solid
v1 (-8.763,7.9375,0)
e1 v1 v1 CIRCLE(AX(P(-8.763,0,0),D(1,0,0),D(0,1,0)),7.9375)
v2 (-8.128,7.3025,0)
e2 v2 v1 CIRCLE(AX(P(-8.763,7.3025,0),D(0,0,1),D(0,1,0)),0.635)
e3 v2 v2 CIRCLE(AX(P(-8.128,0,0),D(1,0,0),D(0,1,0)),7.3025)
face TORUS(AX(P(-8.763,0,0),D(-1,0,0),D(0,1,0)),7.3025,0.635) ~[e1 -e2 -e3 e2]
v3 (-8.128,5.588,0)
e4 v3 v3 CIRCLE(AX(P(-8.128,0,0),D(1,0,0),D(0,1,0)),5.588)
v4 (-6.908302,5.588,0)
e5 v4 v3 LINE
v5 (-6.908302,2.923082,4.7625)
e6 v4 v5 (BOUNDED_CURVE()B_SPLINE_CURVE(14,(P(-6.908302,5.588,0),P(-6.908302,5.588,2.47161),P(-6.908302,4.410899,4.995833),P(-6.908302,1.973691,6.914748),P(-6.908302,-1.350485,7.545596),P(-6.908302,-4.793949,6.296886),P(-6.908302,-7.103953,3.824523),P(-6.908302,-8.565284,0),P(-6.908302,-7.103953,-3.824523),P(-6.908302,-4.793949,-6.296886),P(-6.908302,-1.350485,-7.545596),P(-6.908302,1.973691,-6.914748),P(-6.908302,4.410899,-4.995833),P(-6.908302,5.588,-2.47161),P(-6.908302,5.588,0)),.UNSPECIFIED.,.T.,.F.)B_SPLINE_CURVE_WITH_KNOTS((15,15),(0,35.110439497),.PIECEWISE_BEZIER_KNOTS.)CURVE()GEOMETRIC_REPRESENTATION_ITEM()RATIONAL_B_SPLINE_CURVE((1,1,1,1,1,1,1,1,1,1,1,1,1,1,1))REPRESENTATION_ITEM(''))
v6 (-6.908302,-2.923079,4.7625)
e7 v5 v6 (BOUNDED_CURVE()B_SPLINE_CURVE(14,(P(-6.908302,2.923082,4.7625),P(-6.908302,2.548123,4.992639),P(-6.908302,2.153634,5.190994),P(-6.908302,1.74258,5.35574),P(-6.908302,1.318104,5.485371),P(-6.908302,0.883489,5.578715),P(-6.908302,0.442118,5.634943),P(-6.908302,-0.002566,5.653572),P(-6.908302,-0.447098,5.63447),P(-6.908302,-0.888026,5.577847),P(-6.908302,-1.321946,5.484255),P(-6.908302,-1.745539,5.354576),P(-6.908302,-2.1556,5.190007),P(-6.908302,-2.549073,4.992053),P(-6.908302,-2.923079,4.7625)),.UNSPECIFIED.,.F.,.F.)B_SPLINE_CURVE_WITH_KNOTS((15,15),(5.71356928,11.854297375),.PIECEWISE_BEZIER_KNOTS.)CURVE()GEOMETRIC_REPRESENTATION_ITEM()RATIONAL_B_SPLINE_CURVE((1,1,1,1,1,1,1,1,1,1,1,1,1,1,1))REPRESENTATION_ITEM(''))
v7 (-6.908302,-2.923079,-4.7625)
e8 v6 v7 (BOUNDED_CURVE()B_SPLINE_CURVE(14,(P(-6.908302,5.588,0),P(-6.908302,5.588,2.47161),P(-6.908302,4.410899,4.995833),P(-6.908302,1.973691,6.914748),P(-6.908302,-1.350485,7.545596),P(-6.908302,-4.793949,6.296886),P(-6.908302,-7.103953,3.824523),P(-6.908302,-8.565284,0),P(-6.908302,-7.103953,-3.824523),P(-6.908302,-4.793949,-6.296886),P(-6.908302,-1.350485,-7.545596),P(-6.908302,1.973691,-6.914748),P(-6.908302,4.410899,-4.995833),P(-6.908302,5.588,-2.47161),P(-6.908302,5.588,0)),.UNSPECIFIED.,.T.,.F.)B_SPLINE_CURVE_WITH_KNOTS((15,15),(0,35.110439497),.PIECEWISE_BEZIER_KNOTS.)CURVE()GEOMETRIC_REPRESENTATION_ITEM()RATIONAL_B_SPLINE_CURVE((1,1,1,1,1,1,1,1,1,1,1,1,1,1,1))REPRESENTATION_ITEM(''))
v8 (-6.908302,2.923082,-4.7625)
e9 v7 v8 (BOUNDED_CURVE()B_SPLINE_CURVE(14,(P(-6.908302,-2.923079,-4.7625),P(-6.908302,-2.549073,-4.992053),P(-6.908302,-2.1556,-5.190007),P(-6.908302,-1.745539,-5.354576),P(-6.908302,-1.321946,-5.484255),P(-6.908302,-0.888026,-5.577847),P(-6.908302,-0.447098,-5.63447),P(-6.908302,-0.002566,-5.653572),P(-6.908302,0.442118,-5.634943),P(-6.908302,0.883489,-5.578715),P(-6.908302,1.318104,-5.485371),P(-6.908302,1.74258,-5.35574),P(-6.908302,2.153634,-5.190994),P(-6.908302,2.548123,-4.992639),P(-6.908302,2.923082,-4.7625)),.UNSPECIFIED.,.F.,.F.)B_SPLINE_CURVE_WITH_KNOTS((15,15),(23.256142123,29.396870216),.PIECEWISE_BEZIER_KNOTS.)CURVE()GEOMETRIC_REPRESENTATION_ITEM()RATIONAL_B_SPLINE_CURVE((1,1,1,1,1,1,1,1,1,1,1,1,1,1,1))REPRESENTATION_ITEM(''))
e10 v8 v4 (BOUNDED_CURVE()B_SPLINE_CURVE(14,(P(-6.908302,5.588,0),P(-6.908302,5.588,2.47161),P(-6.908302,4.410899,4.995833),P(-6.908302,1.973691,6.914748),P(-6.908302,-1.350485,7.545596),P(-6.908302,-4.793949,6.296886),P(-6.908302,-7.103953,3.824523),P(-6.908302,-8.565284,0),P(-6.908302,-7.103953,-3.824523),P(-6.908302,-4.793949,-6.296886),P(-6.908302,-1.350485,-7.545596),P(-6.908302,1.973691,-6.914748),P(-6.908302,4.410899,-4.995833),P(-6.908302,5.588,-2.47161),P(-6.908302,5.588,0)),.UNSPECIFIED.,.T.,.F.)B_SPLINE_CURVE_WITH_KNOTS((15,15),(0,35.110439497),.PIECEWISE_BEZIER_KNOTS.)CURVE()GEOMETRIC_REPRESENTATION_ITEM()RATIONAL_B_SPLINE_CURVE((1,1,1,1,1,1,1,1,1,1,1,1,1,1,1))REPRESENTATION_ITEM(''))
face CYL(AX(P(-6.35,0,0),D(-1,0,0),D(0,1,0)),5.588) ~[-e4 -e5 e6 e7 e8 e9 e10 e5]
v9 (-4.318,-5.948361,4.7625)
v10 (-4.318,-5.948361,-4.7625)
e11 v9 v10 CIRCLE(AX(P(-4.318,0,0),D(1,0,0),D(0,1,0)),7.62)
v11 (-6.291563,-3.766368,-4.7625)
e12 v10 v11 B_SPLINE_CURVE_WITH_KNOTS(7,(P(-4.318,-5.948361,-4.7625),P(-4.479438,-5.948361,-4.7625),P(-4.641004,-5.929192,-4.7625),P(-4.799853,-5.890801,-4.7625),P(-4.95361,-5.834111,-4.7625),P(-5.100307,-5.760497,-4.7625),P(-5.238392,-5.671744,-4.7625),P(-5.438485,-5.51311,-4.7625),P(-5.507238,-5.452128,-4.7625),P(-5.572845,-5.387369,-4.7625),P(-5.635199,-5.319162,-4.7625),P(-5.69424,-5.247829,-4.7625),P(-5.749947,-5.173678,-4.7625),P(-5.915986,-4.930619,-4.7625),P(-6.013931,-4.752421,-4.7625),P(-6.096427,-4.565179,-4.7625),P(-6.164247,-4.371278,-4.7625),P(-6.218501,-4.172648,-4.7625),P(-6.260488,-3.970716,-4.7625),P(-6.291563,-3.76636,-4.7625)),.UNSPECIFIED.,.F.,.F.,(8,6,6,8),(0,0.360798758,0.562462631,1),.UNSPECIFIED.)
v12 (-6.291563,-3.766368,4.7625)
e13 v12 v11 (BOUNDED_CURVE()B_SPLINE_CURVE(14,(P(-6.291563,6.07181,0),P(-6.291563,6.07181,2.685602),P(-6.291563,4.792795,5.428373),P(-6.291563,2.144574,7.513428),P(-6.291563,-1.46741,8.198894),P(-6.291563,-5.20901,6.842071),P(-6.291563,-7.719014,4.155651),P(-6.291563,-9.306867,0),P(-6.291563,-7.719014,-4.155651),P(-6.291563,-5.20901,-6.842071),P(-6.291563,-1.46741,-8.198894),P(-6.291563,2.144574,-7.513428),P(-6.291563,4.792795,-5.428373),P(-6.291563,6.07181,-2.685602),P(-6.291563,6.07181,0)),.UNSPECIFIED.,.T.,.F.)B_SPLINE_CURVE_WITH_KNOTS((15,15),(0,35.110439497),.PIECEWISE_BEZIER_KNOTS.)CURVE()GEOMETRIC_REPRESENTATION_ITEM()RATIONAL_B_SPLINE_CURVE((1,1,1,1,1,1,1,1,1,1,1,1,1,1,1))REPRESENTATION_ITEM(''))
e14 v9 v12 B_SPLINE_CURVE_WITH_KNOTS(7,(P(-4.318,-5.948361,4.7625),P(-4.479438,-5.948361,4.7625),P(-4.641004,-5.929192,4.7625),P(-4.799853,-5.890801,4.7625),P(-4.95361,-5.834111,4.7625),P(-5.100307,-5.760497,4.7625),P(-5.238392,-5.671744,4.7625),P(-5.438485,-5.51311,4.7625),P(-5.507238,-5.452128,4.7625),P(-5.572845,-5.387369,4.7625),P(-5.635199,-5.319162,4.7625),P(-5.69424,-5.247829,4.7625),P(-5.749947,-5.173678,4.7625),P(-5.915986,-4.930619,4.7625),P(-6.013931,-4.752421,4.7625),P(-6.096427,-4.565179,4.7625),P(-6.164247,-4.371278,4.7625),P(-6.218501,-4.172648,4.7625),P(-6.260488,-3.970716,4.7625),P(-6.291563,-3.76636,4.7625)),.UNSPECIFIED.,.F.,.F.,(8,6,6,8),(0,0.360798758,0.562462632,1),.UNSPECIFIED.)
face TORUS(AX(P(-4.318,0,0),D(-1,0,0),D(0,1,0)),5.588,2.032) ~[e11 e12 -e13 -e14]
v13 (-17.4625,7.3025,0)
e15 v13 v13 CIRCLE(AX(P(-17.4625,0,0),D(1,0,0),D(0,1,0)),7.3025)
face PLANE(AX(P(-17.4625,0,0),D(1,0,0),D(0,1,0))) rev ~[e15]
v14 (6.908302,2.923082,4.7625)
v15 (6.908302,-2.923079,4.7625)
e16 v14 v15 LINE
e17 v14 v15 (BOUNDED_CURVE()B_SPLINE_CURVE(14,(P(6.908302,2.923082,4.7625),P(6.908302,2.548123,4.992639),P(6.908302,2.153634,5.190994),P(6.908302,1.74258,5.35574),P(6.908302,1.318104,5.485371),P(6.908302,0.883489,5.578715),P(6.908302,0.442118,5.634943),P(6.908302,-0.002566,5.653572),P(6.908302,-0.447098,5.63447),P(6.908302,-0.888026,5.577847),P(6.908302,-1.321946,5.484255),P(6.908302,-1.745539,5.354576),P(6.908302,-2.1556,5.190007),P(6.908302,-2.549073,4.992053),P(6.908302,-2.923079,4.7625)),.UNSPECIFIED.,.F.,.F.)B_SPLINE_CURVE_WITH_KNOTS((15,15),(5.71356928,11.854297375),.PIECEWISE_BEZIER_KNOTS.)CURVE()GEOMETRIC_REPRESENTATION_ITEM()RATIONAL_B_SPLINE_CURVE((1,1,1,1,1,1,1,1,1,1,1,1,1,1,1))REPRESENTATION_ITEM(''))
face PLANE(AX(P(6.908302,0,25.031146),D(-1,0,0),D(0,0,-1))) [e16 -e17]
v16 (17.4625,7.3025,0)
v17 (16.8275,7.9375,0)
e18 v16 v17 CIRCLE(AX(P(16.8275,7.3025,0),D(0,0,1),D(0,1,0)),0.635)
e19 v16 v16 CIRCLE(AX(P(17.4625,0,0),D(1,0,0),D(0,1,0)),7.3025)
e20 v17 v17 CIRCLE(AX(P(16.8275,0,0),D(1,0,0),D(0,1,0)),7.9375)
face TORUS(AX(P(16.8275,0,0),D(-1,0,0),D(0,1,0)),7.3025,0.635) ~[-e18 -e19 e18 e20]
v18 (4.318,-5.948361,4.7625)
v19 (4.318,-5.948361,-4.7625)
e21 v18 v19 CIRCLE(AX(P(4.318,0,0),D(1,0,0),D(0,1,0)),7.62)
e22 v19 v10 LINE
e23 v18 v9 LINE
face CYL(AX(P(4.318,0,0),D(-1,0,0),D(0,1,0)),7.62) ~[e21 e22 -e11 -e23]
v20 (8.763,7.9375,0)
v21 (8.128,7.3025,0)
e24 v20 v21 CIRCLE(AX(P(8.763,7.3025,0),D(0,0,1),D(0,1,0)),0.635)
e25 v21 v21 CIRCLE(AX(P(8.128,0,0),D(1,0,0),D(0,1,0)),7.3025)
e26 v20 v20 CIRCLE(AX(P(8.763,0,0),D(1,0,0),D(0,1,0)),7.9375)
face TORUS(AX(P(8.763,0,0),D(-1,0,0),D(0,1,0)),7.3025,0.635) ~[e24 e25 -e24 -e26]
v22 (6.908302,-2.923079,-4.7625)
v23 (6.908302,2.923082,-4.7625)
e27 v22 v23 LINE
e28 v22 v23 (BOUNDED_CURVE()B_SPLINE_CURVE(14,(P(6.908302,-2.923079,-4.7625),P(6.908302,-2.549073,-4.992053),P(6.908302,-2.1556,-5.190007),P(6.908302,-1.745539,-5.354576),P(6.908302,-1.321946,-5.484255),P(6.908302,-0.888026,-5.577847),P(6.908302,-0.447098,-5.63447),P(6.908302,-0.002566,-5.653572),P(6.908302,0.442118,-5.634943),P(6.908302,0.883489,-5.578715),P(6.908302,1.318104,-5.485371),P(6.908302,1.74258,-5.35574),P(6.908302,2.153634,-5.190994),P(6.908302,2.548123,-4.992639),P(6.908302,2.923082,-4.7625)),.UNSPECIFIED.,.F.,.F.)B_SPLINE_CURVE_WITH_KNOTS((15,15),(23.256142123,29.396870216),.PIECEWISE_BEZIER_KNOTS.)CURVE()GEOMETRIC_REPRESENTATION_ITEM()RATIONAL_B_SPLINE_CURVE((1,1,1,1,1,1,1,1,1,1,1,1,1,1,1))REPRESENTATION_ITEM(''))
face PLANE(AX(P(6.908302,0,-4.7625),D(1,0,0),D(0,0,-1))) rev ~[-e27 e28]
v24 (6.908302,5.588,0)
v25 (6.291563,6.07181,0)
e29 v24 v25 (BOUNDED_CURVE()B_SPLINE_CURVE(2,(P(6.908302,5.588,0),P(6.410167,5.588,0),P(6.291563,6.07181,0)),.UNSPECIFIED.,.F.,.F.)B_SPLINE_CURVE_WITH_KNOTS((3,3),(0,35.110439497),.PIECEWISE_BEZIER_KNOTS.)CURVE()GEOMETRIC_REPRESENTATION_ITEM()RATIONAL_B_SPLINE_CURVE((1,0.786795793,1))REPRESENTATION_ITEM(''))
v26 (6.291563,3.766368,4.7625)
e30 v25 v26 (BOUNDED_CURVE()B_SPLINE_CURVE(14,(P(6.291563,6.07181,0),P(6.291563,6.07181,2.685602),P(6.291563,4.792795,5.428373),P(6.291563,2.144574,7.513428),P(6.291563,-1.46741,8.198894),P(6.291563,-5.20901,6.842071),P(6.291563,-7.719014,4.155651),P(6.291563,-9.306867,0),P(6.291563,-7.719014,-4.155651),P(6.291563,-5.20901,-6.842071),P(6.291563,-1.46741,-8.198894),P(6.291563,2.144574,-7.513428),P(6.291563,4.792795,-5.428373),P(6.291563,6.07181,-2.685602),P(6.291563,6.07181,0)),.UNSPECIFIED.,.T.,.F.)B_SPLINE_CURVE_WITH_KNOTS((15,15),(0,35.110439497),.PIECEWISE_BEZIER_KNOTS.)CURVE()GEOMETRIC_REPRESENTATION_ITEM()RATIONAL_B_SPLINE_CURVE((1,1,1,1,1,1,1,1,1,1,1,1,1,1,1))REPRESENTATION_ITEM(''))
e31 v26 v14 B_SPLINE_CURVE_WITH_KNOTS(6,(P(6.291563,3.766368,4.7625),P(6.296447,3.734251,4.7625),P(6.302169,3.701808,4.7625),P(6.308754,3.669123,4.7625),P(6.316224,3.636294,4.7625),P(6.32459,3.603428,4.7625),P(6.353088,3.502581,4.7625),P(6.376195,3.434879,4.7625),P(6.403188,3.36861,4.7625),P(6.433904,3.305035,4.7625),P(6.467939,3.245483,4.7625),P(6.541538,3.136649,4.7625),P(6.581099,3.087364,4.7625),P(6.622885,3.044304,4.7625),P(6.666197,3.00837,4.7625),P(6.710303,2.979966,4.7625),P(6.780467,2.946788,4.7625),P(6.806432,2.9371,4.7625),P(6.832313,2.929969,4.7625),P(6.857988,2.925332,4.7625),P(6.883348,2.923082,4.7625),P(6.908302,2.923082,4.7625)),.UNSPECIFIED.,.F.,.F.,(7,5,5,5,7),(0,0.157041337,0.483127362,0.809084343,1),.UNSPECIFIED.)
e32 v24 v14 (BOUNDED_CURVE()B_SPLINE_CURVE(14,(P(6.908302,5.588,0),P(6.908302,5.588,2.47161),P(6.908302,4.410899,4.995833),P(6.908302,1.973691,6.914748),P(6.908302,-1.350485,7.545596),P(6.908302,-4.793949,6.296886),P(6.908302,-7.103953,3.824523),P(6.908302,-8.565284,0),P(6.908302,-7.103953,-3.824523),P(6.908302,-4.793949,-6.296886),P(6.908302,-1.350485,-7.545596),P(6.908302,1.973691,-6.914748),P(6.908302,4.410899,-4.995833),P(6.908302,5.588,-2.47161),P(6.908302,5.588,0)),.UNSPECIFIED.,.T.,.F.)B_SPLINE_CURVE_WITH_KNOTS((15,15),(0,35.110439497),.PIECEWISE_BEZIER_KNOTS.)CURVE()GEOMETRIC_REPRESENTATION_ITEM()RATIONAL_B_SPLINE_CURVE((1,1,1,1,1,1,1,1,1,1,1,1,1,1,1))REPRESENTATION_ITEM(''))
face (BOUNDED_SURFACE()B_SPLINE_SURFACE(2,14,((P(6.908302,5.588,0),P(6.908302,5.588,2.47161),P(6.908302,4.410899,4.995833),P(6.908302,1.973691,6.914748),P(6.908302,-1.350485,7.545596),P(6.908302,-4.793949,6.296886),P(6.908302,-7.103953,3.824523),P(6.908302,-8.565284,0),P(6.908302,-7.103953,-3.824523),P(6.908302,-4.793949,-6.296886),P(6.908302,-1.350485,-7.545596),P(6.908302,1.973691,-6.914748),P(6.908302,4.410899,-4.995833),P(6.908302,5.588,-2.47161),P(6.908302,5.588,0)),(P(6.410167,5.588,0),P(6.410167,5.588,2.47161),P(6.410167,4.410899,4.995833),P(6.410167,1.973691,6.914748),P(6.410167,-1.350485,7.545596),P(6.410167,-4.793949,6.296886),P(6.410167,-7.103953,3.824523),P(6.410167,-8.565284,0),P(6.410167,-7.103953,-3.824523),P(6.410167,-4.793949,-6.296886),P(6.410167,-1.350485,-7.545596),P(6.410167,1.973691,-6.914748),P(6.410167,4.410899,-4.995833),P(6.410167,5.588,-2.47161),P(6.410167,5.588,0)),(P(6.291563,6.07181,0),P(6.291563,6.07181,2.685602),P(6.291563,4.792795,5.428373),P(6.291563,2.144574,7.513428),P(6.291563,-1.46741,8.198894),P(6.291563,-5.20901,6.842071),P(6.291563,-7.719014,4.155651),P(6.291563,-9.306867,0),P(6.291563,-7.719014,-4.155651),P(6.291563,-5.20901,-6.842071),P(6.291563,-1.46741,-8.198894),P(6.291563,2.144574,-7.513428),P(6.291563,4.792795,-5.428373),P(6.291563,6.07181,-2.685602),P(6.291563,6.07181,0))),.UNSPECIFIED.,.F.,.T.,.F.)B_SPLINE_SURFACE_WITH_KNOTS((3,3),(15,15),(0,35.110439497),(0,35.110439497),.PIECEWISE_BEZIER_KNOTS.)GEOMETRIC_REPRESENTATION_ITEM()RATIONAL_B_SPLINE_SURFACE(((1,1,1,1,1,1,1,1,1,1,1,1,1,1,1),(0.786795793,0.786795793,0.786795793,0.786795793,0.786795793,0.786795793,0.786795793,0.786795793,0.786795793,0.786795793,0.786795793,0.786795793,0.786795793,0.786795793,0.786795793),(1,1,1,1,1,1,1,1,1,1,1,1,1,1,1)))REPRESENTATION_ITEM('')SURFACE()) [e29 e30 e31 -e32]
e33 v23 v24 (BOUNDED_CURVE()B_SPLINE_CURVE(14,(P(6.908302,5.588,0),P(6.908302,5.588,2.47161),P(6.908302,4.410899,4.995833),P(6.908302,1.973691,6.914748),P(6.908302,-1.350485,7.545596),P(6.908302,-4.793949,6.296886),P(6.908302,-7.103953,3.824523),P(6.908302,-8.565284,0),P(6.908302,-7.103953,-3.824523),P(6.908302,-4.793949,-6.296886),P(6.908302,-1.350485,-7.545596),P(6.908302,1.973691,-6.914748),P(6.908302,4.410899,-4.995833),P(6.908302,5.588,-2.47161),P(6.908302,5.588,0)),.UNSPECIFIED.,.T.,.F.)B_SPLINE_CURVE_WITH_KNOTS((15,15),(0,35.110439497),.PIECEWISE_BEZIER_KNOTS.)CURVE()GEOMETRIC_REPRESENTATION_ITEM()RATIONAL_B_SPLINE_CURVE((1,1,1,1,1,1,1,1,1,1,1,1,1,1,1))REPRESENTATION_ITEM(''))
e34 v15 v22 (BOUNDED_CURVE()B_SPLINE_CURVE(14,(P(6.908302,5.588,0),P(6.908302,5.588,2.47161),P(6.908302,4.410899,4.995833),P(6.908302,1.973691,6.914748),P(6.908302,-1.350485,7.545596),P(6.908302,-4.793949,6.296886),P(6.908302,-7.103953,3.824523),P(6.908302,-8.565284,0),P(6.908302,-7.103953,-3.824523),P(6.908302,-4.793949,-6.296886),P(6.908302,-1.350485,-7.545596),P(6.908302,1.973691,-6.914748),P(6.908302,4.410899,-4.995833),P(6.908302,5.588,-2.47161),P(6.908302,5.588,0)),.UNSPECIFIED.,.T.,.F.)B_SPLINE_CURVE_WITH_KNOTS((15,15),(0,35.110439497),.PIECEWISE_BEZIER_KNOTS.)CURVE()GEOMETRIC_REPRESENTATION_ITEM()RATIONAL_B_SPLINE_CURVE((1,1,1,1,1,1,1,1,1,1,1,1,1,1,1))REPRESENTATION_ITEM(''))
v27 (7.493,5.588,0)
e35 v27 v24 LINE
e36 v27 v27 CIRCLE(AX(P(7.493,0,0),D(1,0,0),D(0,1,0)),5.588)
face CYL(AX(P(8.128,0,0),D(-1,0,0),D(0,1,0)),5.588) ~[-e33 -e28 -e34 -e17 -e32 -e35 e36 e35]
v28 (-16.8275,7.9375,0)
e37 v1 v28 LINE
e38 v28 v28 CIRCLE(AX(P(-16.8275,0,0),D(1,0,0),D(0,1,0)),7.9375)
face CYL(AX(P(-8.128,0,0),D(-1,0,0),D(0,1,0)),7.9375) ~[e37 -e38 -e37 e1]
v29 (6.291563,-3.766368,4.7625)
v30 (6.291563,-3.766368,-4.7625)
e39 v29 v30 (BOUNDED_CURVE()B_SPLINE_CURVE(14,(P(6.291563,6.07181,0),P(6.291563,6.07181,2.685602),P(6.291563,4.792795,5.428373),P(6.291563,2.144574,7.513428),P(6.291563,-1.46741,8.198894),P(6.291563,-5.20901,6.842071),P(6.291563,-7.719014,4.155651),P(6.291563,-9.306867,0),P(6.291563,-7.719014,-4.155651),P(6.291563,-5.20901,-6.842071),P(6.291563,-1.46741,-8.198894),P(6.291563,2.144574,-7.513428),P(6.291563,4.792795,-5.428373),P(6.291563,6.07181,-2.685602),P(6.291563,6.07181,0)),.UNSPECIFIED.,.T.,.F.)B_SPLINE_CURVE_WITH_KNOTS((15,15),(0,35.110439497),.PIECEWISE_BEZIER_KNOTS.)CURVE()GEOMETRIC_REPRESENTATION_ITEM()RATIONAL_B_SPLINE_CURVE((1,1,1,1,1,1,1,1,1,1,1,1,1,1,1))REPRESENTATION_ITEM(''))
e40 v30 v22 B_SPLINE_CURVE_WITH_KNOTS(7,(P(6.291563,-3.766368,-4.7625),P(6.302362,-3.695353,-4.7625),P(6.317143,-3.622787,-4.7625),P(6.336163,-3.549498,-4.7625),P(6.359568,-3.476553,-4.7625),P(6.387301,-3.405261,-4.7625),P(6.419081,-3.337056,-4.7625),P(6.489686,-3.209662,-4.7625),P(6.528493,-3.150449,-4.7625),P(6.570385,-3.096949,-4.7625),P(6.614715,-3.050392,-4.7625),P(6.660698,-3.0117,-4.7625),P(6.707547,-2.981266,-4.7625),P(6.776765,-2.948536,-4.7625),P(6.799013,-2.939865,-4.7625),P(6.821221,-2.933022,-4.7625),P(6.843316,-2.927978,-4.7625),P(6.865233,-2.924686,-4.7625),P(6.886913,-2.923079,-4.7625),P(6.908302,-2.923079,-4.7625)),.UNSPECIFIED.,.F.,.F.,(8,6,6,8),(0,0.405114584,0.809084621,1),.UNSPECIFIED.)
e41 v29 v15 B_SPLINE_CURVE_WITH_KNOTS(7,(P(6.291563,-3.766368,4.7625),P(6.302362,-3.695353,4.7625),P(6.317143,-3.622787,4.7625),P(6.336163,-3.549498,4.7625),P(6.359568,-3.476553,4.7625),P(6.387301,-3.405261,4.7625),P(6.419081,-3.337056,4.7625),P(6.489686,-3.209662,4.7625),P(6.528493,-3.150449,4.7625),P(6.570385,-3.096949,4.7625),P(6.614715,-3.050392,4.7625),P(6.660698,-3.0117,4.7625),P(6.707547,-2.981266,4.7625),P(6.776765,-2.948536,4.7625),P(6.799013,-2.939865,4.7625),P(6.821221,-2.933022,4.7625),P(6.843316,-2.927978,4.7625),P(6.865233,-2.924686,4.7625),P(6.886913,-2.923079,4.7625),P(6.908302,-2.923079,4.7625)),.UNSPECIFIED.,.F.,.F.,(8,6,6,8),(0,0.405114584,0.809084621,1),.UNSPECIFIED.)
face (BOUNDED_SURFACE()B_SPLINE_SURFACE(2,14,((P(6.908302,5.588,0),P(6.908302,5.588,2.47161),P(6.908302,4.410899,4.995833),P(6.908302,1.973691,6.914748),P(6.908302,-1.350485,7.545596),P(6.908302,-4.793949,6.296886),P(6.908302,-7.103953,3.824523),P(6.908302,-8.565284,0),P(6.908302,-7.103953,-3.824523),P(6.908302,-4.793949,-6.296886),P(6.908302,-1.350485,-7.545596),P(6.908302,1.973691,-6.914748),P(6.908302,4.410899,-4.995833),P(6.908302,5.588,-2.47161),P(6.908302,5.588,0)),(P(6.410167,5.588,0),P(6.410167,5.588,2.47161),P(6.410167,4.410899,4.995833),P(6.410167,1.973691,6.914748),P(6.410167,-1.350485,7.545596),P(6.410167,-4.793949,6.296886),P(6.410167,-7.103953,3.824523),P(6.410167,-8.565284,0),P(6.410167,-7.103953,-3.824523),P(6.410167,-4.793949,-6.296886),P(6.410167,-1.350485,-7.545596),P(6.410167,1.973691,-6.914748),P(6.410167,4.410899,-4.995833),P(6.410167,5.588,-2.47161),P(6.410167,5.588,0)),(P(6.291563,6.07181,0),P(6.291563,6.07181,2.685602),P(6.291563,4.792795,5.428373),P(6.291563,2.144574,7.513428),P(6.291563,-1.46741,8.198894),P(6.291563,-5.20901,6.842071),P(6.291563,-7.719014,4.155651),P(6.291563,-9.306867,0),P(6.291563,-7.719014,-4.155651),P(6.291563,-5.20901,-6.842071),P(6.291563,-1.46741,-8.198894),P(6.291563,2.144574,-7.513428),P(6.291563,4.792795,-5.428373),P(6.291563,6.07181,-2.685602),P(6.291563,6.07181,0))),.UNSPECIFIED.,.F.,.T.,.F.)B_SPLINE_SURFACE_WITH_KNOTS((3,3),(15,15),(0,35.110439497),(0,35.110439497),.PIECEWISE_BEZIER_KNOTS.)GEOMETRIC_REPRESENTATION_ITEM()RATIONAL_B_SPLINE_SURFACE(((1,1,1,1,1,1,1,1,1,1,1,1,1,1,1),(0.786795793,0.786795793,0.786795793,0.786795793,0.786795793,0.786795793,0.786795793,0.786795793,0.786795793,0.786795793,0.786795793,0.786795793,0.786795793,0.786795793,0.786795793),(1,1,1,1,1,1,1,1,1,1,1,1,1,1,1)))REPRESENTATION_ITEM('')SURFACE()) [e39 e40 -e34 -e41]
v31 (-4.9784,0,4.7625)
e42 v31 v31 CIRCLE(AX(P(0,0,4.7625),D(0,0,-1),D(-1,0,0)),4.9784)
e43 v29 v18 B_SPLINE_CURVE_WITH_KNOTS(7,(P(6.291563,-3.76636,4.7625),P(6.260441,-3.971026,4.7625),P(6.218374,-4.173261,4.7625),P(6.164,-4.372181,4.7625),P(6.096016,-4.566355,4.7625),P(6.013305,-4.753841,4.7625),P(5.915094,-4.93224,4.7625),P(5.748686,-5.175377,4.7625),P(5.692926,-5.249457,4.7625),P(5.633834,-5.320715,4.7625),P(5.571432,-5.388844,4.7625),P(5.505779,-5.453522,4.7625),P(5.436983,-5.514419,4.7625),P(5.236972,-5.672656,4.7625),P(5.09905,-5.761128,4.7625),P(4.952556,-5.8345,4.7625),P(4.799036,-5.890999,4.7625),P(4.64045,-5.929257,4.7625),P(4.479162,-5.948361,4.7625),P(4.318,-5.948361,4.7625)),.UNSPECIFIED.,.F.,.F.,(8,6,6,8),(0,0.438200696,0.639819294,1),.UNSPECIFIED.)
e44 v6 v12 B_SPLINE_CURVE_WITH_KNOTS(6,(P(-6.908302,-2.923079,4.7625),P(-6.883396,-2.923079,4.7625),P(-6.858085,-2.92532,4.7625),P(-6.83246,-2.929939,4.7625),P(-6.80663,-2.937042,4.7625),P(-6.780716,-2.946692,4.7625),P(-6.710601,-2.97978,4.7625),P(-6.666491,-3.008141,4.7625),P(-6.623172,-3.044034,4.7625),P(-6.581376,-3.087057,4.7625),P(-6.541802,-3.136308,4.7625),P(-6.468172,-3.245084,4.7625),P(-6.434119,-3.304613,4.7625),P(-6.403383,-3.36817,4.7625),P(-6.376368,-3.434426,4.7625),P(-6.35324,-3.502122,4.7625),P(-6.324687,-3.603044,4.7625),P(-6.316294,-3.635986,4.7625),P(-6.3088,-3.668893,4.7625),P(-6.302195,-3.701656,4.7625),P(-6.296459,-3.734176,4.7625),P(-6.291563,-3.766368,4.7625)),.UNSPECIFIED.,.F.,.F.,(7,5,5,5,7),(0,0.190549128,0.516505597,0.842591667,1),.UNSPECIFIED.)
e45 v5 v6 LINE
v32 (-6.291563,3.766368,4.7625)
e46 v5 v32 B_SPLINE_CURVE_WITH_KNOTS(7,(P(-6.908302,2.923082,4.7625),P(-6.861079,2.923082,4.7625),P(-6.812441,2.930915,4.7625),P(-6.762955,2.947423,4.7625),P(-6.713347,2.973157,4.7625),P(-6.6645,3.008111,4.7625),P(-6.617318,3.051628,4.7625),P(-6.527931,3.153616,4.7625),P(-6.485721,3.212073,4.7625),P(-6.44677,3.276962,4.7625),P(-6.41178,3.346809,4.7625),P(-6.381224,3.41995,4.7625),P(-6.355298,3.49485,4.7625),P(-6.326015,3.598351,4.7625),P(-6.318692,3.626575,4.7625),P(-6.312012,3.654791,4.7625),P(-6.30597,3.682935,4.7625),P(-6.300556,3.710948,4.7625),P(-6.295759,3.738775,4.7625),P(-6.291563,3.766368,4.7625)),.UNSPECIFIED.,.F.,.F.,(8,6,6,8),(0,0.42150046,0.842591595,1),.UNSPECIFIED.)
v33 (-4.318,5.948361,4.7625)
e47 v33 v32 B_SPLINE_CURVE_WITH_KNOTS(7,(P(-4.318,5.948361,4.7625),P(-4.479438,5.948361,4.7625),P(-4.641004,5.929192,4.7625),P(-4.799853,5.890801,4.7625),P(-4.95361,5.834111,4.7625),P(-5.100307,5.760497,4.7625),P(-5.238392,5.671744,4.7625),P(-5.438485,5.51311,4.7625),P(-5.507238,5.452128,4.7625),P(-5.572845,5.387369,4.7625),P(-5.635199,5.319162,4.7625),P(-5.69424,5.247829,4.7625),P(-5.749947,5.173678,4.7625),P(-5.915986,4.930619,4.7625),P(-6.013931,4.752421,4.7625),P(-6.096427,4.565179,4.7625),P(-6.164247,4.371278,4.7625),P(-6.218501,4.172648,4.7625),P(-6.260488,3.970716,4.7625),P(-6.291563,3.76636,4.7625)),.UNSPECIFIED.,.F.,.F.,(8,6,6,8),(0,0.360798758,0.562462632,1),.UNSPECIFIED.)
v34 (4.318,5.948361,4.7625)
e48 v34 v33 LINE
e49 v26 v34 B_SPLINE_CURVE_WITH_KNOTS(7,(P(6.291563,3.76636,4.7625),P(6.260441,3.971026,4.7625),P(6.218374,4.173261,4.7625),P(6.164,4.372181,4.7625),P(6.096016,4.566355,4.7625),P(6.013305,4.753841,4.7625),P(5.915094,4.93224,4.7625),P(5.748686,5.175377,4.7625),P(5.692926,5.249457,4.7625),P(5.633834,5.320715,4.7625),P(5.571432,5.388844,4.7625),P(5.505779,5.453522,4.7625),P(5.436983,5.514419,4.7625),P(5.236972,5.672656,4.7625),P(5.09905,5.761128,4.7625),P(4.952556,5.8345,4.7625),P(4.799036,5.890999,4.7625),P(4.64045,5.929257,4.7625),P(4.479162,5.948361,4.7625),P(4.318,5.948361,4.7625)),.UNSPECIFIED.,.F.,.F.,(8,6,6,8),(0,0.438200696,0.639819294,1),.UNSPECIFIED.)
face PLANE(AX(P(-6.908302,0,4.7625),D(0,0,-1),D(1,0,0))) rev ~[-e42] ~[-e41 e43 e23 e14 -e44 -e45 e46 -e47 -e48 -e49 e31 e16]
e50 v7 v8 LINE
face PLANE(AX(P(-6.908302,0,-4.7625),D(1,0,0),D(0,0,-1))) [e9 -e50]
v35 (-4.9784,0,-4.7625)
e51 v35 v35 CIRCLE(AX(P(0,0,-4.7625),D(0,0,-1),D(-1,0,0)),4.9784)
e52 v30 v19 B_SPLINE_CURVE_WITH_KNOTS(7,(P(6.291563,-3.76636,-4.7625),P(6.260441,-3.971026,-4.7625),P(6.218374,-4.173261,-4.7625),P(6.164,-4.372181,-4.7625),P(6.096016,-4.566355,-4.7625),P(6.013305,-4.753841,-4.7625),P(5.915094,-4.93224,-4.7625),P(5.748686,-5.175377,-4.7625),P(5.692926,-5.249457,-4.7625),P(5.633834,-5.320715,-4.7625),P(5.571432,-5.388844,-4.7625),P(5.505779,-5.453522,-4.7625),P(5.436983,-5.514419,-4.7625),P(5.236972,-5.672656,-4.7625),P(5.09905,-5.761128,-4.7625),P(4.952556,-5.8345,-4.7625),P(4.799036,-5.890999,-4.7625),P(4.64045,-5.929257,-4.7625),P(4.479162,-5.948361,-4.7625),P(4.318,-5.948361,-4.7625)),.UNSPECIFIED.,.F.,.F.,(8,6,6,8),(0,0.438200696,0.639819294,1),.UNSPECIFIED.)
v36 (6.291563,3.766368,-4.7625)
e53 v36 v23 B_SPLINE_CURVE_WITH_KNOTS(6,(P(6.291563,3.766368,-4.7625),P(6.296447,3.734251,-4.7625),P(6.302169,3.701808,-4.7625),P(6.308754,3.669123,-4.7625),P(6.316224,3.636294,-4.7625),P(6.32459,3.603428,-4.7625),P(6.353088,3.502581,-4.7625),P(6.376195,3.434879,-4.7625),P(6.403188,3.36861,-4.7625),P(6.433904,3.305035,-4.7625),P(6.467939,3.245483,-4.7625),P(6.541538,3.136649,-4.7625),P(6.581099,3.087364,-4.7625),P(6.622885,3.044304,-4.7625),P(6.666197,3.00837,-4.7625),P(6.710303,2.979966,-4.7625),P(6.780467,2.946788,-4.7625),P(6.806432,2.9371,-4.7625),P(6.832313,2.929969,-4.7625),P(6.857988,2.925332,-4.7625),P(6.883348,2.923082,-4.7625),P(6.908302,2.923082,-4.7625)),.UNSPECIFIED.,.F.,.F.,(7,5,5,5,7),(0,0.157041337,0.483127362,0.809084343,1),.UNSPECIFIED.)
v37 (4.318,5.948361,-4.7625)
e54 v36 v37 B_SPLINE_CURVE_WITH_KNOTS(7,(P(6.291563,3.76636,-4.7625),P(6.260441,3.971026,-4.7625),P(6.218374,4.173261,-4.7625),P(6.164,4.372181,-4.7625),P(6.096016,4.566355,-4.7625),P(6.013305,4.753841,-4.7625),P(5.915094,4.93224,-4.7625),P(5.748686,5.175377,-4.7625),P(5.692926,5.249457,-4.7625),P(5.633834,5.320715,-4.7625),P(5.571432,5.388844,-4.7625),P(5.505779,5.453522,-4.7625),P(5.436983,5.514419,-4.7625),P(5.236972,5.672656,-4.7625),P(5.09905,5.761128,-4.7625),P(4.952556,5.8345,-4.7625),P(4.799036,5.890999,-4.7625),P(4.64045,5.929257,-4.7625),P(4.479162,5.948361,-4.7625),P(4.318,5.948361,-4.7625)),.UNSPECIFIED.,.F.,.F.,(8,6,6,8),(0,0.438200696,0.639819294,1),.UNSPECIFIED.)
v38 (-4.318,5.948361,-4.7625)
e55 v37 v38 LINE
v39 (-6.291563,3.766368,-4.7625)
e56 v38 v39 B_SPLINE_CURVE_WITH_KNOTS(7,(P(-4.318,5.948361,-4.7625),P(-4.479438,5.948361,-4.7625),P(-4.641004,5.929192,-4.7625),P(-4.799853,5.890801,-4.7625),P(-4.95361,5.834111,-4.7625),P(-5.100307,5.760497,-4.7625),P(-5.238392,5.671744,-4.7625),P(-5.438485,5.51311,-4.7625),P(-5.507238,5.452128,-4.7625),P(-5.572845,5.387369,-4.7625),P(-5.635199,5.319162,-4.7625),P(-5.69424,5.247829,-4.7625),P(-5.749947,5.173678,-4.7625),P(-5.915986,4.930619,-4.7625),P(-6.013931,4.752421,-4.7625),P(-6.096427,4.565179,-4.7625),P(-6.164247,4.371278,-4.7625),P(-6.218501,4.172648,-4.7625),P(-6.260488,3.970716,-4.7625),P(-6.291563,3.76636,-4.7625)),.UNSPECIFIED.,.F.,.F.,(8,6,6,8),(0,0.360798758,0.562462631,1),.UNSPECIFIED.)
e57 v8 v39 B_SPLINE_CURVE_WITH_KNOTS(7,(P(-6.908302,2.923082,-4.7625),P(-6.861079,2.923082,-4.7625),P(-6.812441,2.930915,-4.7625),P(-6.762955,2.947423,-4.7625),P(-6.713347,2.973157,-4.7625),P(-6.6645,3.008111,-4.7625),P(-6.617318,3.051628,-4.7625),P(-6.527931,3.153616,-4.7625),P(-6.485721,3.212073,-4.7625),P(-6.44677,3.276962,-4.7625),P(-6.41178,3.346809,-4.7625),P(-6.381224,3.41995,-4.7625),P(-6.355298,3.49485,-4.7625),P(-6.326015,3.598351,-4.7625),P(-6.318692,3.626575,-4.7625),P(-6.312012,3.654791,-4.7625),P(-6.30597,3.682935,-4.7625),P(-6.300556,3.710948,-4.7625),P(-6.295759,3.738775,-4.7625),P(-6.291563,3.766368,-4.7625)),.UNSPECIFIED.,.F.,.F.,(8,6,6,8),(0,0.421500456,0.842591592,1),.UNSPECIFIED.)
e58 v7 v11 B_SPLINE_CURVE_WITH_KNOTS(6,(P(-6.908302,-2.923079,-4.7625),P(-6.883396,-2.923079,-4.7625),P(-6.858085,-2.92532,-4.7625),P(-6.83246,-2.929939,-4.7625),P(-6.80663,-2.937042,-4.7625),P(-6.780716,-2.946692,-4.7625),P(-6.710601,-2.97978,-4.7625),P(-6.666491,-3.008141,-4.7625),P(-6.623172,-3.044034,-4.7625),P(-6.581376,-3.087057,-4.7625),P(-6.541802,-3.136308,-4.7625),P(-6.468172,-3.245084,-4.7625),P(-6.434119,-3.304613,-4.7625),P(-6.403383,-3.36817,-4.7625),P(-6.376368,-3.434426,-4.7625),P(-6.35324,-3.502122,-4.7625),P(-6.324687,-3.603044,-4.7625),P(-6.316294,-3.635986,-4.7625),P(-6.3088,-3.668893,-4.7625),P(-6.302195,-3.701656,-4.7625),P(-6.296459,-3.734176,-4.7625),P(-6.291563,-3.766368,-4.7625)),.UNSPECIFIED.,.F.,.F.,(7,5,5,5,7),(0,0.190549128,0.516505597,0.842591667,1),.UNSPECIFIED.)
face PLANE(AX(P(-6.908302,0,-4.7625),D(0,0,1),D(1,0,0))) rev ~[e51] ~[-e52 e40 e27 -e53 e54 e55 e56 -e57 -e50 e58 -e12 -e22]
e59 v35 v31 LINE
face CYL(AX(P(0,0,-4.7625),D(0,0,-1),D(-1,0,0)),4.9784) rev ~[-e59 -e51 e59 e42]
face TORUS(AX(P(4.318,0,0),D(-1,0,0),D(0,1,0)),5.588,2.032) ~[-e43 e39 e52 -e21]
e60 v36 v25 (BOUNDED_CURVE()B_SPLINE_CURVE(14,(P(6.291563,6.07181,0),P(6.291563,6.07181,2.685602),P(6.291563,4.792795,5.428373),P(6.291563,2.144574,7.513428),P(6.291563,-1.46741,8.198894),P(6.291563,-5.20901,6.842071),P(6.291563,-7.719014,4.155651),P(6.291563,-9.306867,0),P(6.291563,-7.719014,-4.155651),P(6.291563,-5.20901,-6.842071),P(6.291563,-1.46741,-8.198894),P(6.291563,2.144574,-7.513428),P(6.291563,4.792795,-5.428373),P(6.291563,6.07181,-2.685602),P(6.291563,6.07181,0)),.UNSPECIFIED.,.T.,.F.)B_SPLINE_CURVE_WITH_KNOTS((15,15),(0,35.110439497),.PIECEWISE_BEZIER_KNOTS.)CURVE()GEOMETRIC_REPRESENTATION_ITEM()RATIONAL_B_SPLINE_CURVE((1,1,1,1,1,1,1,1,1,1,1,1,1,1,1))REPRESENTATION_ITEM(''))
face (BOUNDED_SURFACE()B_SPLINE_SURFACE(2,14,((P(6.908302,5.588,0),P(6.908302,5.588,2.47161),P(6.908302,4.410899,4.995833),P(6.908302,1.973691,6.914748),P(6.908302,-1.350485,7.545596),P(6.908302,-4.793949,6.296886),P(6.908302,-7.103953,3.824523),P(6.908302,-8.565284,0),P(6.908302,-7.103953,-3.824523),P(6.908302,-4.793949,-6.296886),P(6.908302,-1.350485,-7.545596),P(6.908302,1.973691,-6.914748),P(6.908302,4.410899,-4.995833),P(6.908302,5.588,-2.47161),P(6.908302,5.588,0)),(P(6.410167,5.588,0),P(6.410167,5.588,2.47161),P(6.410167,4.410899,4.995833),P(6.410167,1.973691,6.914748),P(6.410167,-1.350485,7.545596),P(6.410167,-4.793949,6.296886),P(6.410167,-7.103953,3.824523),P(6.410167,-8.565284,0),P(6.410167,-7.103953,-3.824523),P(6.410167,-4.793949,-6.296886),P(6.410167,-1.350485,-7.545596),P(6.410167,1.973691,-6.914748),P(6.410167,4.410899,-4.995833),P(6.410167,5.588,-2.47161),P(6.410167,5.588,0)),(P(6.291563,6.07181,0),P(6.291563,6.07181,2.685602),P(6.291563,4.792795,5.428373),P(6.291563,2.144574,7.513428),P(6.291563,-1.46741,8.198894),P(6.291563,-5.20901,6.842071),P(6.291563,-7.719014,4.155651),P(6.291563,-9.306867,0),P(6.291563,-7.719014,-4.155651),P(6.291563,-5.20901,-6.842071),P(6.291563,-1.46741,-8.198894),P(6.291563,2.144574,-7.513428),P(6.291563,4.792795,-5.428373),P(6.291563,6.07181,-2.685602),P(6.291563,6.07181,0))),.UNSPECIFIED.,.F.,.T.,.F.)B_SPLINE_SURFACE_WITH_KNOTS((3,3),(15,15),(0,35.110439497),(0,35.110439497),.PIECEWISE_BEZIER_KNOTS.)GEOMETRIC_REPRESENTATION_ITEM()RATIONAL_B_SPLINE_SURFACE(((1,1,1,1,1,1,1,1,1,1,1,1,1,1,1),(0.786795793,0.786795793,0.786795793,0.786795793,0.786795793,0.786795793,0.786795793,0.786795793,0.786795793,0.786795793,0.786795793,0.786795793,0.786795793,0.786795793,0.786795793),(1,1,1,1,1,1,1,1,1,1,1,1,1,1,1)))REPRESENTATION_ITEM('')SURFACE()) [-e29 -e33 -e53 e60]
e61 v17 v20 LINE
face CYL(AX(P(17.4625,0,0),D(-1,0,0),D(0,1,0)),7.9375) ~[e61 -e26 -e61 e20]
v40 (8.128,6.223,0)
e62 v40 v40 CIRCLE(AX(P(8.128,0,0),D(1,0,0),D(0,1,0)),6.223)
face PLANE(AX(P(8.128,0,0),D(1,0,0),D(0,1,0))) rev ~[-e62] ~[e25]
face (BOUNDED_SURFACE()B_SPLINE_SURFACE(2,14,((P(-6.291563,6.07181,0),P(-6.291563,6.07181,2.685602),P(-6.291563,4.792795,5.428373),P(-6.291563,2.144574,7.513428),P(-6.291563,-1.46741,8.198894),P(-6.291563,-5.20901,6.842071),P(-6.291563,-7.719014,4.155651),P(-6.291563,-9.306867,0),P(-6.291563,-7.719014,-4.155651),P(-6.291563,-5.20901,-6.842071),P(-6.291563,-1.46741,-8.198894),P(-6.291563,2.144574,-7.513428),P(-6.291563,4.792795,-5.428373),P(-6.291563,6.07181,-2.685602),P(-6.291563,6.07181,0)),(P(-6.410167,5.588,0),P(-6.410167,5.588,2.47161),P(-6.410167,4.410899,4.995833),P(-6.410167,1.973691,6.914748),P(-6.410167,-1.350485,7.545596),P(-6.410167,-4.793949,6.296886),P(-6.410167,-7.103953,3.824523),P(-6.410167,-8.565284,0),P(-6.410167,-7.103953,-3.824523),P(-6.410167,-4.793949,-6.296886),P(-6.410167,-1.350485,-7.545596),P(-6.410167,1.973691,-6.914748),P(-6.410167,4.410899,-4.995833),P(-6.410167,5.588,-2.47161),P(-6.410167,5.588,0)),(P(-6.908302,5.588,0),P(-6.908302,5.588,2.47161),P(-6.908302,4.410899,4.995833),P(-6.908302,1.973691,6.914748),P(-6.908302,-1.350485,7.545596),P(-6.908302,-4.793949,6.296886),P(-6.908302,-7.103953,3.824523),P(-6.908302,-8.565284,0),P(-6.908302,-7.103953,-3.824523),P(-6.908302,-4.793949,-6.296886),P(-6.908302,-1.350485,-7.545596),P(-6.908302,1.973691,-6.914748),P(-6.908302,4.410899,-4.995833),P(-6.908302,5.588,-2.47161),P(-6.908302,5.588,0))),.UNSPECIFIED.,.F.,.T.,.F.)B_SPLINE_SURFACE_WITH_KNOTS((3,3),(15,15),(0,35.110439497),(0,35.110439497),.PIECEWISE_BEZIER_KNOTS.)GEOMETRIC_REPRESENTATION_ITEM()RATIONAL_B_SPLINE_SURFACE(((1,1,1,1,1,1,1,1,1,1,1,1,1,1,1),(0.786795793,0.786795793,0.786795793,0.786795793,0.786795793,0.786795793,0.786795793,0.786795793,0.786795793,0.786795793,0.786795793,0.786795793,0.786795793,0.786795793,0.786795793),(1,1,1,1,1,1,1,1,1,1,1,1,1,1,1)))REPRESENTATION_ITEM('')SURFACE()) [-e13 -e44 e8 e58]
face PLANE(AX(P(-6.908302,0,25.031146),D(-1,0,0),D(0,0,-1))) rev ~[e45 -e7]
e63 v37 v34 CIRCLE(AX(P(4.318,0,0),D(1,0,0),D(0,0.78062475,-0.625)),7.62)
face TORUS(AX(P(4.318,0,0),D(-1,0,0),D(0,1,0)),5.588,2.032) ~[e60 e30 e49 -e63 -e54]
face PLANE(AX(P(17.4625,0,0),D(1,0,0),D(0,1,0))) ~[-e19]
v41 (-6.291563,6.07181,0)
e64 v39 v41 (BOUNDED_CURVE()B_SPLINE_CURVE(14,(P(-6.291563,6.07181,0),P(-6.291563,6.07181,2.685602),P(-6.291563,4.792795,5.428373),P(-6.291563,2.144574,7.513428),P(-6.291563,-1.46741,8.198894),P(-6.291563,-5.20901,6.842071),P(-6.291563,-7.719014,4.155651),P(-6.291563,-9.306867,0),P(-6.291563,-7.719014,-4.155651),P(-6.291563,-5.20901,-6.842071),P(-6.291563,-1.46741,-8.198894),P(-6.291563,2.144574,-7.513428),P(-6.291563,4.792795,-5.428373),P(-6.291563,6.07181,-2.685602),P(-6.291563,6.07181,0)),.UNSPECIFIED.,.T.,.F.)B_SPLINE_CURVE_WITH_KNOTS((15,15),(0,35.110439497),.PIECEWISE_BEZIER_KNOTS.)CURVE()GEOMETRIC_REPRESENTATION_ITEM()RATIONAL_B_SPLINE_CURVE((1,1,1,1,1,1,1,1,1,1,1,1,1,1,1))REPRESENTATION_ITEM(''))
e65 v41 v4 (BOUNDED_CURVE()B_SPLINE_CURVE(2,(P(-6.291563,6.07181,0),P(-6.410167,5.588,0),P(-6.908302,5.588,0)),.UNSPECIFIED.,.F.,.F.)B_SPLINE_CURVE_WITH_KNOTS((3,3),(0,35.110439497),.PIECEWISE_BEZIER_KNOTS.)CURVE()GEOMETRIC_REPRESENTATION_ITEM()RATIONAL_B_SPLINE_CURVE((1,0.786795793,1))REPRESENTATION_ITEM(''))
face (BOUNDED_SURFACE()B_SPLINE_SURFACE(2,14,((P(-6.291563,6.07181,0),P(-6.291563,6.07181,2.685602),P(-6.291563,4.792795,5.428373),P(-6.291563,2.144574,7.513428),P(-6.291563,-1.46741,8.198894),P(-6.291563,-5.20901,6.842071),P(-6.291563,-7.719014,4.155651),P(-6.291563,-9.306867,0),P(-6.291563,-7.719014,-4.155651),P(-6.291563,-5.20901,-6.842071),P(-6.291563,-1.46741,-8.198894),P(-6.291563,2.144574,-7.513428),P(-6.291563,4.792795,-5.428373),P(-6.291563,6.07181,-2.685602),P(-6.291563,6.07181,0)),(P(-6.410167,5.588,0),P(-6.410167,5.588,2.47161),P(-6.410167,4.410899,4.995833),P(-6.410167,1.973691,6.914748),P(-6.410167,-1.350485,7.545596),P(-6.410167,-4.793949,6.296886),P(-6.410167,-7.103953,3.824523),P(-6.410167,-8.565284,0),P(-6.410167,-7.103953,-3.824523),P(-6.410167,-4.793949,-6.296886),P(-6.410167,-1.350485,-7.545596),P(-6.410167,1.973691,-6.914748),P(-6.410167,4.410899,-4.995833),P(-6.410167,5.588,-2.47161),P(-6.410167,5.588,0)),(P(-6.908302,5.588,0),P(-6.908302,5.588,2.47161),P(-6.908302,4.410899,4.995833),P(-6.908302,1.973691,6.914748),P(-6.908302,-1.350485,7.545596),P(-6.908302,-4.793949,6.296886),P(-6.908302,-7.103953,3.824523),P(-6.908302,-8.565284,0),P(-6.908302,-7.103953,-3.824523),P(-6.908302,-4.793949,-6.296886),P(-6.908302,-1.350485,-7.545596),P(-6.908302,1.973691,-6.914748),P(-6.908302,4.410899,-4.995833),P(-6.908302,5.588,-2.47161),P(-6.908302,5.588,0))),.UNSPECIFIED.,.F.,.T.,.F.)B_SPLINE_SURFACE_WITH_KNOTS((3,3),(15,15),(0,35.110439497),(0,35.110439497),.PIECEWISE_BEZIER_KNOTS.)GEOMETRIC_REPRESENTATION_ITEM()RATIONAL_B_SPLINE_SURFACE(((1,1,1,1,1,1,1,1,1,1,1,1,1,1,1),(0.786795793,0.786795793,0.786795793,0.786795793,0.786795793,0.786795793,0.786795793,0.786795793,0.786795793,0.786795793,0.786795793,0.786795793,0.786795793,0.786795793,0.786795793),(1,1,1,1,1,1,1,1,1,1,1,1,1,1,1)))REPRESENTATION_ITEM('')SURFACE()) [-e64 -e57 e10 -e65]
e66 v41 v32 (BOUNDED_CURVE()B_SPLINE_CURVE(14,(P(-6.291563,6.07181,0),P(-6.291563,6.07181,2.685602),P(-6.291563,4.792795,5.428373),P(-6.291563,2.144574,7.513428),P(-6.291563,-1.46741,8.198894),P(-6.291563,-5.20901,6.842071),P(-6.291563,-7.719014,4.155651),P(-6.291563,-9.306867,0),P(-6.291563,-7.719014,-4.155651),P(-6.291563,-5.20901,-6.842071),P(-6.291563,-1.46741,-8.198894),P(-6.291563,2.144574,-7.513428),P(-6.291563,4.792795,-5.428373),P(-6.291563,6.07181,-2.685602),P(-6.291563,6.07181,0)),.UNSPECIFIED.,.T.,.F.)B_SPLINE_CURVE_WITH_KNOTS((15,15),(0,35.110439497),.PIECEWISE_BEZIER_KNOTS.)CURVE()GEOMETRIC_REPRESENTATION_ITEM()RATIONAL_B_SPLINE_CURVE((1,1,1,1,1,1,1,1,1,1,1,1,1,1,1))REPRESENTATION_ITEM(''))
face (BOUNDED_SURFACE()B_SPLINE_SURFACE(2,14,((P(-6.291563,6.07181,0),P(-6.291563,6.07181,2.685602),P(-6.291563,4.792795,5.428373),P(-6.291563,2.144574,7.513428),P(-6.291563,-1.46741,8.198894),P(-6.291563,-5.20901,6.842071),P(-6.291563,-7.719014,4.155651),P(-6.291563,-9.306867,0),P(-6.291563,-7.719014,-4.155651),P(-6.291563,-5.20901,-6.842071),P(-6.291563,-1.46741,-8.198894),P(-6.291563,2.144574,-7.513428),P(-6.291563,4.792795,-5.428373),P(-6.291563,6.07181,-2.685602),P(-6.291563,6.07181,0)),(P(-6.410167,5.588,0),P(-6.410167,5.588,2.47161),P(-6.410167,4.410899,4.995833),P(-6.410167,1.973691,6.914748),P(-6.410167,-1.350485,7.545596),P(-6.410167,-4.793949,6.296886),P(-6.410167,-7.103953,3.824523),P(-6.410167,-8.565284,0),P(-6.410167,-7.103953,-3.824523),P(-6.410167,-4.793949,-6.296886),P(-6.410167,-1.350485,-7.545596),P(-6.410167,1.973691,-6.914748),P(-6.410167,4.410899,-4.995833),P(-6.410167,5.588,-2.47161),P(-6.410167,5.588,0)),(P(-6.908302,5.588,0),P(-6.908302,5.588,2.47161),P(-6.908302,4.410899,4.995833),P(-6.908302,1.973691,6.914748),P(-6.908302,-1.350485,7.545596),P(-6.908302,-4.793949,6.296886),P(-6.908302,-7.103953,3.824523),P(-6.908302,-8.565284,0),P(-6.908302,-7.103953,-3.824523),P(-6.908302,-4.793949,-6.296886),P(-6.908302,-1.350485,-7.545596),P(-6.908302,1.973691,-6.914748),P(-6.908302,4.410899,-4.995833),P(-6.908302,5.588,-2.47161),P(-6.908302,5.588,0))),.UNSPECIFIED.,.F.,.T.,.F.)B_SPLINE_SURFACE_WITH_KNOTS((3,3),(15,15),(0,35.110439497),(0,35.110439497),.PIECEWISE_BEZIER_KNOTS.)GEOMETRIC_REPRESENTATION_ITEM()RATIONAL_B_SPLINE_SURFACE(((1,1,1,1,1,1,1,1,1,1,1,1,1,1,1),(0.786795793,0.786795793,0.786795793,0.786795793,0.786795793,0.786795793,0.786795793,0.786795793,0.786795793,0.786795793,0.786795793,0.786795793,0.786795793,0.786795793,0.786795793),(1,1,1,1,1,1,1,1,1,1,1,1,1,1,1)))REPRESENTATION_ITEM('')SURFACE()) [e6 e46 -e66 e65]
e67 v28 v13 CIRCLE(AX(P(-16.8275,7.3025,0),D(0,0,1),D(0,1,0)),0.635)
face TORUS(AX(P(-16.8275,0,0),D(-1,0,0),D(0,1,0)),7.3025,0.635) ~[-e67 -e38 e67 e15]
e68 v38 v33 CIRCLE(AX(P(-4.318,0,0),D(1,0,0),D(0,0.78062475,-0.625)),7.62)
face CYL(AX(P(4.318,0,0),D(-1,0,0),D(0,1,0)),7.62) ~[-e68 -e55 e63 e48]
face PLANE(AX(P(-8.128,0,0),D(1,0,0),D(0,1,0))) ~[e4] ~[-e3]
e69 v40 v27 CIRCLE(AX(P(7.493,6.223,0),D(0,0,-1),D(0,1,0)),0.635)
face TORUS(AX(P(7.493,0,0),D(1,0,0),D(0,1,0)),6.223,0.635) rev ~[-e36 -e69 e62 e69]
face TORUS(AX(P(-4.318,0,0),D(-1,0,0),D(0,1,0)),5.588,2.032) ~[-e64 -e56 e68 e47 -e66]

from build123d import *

# Parameters (mm, degrees)
FILLET1_R               = 0.635
SKETCH2_W               = 13.816603826
SKETCH2_H               = 21.411090548
SKETCH2_H_2             = 20.268646053
CUT_EXTRUDE1_DEPTH      = 8.9375
CUT_EXTRUDE1_DEPTH_BACK = 8.9375
SKETCH3_R               = 4.9784
CUT_EXTRUDE2_DEPTH      = 13.7000001


with BuildPart() as part:
    # Sketch1 → Revolve1 (revolve)
    with BuildSketch(Plane.XY):
        with BuildLine():
            Line((-17.4625, 0), (17.4625, 0))
            Line((17.4625, 0), (17.4625, 7.9375))
            Line((17.4625, 7.9375), (8.128, 7.9375))
            Line((8.128, 7.9375), (8.128, 5.588))
            Line((8.128, 5.588), (6.35, 5.588))
            ThreePointArc((6.35, 5.588), (5.754840979, 7.024840979), (4.318, 7.62))
            Line((4.318, 7.62), (-4.318, 7.62))
            ThreePointArc((-4.318, 7.62), (-5.754840979, 7.024840979), (-6.35, 5.588))
            Line((-6.35, 5.588), (-8.128, 5.588))
            Line((-8.128, 5.588), (-8.128, 7.9375))
            Line((-8.128, 7.9375), (-17.4625, 7.9375))
            Line((-17.4625, 7.9375), (-17.4625, 0))
        make_face()
    revolve(axis=Axis((-34.611108151, 0, 0), (1, 0, 0)))

    # Fillet1
    fillet1_edges = [part.edges().sort_by_distance(p)[0] for p in [
        (6.35, -5.588, 0),
        (8.128, -5.588, 0),
        (8.128, -7.9375, 0),
        (17.4625, -7.9375, 0),
        (-17.4625, -7.9375, 0),
        (-8.128, -7.9375, 0),
        (-6.35, -5.588, 0),
    ]]
    fillet(fillet1_edges, radius=FILLET1_R)

    # Sketch2 → Cut-Extrude1 (cut, two sides)
    with BuildSketch(Plane(origin=(0, 0, 0), x_dir=(1, 0, 0), z_dir=(0, 1, 0))) as cut_extrude1_sk:
        with Locations((0, 15.468045274)):
            Rectangle(SKETCH2_W, SKETCH2_H)
        with Locations((0, -14.896823026)):
            Rectangle(SKETCH2_W, SKETCH2_H_2)
    extrude(amount=CUT_EXTRUDE1_DEPTH, mode=Mode.SUBTRACT)
    extrude(cut_extrude1_sk.sketch, amount=-CUT_EXTRUDE1_DEPTH_BACK, mode=Mode.SUBTRACT)

    # Sketch3 → Cut-Extrude2 (cut, through all)
    with BuildSketch(Plane(origin=(0, 0, -4.7625), x_dir=(-1, 0, 0), z_dir=(0, 0, -1))):
        Circle(SKETCH3_R)
    extrude(amount=-CUT_EXTRUDE2_DEPTH, mode=Mode.SUBTRACT)


solid = part.part
